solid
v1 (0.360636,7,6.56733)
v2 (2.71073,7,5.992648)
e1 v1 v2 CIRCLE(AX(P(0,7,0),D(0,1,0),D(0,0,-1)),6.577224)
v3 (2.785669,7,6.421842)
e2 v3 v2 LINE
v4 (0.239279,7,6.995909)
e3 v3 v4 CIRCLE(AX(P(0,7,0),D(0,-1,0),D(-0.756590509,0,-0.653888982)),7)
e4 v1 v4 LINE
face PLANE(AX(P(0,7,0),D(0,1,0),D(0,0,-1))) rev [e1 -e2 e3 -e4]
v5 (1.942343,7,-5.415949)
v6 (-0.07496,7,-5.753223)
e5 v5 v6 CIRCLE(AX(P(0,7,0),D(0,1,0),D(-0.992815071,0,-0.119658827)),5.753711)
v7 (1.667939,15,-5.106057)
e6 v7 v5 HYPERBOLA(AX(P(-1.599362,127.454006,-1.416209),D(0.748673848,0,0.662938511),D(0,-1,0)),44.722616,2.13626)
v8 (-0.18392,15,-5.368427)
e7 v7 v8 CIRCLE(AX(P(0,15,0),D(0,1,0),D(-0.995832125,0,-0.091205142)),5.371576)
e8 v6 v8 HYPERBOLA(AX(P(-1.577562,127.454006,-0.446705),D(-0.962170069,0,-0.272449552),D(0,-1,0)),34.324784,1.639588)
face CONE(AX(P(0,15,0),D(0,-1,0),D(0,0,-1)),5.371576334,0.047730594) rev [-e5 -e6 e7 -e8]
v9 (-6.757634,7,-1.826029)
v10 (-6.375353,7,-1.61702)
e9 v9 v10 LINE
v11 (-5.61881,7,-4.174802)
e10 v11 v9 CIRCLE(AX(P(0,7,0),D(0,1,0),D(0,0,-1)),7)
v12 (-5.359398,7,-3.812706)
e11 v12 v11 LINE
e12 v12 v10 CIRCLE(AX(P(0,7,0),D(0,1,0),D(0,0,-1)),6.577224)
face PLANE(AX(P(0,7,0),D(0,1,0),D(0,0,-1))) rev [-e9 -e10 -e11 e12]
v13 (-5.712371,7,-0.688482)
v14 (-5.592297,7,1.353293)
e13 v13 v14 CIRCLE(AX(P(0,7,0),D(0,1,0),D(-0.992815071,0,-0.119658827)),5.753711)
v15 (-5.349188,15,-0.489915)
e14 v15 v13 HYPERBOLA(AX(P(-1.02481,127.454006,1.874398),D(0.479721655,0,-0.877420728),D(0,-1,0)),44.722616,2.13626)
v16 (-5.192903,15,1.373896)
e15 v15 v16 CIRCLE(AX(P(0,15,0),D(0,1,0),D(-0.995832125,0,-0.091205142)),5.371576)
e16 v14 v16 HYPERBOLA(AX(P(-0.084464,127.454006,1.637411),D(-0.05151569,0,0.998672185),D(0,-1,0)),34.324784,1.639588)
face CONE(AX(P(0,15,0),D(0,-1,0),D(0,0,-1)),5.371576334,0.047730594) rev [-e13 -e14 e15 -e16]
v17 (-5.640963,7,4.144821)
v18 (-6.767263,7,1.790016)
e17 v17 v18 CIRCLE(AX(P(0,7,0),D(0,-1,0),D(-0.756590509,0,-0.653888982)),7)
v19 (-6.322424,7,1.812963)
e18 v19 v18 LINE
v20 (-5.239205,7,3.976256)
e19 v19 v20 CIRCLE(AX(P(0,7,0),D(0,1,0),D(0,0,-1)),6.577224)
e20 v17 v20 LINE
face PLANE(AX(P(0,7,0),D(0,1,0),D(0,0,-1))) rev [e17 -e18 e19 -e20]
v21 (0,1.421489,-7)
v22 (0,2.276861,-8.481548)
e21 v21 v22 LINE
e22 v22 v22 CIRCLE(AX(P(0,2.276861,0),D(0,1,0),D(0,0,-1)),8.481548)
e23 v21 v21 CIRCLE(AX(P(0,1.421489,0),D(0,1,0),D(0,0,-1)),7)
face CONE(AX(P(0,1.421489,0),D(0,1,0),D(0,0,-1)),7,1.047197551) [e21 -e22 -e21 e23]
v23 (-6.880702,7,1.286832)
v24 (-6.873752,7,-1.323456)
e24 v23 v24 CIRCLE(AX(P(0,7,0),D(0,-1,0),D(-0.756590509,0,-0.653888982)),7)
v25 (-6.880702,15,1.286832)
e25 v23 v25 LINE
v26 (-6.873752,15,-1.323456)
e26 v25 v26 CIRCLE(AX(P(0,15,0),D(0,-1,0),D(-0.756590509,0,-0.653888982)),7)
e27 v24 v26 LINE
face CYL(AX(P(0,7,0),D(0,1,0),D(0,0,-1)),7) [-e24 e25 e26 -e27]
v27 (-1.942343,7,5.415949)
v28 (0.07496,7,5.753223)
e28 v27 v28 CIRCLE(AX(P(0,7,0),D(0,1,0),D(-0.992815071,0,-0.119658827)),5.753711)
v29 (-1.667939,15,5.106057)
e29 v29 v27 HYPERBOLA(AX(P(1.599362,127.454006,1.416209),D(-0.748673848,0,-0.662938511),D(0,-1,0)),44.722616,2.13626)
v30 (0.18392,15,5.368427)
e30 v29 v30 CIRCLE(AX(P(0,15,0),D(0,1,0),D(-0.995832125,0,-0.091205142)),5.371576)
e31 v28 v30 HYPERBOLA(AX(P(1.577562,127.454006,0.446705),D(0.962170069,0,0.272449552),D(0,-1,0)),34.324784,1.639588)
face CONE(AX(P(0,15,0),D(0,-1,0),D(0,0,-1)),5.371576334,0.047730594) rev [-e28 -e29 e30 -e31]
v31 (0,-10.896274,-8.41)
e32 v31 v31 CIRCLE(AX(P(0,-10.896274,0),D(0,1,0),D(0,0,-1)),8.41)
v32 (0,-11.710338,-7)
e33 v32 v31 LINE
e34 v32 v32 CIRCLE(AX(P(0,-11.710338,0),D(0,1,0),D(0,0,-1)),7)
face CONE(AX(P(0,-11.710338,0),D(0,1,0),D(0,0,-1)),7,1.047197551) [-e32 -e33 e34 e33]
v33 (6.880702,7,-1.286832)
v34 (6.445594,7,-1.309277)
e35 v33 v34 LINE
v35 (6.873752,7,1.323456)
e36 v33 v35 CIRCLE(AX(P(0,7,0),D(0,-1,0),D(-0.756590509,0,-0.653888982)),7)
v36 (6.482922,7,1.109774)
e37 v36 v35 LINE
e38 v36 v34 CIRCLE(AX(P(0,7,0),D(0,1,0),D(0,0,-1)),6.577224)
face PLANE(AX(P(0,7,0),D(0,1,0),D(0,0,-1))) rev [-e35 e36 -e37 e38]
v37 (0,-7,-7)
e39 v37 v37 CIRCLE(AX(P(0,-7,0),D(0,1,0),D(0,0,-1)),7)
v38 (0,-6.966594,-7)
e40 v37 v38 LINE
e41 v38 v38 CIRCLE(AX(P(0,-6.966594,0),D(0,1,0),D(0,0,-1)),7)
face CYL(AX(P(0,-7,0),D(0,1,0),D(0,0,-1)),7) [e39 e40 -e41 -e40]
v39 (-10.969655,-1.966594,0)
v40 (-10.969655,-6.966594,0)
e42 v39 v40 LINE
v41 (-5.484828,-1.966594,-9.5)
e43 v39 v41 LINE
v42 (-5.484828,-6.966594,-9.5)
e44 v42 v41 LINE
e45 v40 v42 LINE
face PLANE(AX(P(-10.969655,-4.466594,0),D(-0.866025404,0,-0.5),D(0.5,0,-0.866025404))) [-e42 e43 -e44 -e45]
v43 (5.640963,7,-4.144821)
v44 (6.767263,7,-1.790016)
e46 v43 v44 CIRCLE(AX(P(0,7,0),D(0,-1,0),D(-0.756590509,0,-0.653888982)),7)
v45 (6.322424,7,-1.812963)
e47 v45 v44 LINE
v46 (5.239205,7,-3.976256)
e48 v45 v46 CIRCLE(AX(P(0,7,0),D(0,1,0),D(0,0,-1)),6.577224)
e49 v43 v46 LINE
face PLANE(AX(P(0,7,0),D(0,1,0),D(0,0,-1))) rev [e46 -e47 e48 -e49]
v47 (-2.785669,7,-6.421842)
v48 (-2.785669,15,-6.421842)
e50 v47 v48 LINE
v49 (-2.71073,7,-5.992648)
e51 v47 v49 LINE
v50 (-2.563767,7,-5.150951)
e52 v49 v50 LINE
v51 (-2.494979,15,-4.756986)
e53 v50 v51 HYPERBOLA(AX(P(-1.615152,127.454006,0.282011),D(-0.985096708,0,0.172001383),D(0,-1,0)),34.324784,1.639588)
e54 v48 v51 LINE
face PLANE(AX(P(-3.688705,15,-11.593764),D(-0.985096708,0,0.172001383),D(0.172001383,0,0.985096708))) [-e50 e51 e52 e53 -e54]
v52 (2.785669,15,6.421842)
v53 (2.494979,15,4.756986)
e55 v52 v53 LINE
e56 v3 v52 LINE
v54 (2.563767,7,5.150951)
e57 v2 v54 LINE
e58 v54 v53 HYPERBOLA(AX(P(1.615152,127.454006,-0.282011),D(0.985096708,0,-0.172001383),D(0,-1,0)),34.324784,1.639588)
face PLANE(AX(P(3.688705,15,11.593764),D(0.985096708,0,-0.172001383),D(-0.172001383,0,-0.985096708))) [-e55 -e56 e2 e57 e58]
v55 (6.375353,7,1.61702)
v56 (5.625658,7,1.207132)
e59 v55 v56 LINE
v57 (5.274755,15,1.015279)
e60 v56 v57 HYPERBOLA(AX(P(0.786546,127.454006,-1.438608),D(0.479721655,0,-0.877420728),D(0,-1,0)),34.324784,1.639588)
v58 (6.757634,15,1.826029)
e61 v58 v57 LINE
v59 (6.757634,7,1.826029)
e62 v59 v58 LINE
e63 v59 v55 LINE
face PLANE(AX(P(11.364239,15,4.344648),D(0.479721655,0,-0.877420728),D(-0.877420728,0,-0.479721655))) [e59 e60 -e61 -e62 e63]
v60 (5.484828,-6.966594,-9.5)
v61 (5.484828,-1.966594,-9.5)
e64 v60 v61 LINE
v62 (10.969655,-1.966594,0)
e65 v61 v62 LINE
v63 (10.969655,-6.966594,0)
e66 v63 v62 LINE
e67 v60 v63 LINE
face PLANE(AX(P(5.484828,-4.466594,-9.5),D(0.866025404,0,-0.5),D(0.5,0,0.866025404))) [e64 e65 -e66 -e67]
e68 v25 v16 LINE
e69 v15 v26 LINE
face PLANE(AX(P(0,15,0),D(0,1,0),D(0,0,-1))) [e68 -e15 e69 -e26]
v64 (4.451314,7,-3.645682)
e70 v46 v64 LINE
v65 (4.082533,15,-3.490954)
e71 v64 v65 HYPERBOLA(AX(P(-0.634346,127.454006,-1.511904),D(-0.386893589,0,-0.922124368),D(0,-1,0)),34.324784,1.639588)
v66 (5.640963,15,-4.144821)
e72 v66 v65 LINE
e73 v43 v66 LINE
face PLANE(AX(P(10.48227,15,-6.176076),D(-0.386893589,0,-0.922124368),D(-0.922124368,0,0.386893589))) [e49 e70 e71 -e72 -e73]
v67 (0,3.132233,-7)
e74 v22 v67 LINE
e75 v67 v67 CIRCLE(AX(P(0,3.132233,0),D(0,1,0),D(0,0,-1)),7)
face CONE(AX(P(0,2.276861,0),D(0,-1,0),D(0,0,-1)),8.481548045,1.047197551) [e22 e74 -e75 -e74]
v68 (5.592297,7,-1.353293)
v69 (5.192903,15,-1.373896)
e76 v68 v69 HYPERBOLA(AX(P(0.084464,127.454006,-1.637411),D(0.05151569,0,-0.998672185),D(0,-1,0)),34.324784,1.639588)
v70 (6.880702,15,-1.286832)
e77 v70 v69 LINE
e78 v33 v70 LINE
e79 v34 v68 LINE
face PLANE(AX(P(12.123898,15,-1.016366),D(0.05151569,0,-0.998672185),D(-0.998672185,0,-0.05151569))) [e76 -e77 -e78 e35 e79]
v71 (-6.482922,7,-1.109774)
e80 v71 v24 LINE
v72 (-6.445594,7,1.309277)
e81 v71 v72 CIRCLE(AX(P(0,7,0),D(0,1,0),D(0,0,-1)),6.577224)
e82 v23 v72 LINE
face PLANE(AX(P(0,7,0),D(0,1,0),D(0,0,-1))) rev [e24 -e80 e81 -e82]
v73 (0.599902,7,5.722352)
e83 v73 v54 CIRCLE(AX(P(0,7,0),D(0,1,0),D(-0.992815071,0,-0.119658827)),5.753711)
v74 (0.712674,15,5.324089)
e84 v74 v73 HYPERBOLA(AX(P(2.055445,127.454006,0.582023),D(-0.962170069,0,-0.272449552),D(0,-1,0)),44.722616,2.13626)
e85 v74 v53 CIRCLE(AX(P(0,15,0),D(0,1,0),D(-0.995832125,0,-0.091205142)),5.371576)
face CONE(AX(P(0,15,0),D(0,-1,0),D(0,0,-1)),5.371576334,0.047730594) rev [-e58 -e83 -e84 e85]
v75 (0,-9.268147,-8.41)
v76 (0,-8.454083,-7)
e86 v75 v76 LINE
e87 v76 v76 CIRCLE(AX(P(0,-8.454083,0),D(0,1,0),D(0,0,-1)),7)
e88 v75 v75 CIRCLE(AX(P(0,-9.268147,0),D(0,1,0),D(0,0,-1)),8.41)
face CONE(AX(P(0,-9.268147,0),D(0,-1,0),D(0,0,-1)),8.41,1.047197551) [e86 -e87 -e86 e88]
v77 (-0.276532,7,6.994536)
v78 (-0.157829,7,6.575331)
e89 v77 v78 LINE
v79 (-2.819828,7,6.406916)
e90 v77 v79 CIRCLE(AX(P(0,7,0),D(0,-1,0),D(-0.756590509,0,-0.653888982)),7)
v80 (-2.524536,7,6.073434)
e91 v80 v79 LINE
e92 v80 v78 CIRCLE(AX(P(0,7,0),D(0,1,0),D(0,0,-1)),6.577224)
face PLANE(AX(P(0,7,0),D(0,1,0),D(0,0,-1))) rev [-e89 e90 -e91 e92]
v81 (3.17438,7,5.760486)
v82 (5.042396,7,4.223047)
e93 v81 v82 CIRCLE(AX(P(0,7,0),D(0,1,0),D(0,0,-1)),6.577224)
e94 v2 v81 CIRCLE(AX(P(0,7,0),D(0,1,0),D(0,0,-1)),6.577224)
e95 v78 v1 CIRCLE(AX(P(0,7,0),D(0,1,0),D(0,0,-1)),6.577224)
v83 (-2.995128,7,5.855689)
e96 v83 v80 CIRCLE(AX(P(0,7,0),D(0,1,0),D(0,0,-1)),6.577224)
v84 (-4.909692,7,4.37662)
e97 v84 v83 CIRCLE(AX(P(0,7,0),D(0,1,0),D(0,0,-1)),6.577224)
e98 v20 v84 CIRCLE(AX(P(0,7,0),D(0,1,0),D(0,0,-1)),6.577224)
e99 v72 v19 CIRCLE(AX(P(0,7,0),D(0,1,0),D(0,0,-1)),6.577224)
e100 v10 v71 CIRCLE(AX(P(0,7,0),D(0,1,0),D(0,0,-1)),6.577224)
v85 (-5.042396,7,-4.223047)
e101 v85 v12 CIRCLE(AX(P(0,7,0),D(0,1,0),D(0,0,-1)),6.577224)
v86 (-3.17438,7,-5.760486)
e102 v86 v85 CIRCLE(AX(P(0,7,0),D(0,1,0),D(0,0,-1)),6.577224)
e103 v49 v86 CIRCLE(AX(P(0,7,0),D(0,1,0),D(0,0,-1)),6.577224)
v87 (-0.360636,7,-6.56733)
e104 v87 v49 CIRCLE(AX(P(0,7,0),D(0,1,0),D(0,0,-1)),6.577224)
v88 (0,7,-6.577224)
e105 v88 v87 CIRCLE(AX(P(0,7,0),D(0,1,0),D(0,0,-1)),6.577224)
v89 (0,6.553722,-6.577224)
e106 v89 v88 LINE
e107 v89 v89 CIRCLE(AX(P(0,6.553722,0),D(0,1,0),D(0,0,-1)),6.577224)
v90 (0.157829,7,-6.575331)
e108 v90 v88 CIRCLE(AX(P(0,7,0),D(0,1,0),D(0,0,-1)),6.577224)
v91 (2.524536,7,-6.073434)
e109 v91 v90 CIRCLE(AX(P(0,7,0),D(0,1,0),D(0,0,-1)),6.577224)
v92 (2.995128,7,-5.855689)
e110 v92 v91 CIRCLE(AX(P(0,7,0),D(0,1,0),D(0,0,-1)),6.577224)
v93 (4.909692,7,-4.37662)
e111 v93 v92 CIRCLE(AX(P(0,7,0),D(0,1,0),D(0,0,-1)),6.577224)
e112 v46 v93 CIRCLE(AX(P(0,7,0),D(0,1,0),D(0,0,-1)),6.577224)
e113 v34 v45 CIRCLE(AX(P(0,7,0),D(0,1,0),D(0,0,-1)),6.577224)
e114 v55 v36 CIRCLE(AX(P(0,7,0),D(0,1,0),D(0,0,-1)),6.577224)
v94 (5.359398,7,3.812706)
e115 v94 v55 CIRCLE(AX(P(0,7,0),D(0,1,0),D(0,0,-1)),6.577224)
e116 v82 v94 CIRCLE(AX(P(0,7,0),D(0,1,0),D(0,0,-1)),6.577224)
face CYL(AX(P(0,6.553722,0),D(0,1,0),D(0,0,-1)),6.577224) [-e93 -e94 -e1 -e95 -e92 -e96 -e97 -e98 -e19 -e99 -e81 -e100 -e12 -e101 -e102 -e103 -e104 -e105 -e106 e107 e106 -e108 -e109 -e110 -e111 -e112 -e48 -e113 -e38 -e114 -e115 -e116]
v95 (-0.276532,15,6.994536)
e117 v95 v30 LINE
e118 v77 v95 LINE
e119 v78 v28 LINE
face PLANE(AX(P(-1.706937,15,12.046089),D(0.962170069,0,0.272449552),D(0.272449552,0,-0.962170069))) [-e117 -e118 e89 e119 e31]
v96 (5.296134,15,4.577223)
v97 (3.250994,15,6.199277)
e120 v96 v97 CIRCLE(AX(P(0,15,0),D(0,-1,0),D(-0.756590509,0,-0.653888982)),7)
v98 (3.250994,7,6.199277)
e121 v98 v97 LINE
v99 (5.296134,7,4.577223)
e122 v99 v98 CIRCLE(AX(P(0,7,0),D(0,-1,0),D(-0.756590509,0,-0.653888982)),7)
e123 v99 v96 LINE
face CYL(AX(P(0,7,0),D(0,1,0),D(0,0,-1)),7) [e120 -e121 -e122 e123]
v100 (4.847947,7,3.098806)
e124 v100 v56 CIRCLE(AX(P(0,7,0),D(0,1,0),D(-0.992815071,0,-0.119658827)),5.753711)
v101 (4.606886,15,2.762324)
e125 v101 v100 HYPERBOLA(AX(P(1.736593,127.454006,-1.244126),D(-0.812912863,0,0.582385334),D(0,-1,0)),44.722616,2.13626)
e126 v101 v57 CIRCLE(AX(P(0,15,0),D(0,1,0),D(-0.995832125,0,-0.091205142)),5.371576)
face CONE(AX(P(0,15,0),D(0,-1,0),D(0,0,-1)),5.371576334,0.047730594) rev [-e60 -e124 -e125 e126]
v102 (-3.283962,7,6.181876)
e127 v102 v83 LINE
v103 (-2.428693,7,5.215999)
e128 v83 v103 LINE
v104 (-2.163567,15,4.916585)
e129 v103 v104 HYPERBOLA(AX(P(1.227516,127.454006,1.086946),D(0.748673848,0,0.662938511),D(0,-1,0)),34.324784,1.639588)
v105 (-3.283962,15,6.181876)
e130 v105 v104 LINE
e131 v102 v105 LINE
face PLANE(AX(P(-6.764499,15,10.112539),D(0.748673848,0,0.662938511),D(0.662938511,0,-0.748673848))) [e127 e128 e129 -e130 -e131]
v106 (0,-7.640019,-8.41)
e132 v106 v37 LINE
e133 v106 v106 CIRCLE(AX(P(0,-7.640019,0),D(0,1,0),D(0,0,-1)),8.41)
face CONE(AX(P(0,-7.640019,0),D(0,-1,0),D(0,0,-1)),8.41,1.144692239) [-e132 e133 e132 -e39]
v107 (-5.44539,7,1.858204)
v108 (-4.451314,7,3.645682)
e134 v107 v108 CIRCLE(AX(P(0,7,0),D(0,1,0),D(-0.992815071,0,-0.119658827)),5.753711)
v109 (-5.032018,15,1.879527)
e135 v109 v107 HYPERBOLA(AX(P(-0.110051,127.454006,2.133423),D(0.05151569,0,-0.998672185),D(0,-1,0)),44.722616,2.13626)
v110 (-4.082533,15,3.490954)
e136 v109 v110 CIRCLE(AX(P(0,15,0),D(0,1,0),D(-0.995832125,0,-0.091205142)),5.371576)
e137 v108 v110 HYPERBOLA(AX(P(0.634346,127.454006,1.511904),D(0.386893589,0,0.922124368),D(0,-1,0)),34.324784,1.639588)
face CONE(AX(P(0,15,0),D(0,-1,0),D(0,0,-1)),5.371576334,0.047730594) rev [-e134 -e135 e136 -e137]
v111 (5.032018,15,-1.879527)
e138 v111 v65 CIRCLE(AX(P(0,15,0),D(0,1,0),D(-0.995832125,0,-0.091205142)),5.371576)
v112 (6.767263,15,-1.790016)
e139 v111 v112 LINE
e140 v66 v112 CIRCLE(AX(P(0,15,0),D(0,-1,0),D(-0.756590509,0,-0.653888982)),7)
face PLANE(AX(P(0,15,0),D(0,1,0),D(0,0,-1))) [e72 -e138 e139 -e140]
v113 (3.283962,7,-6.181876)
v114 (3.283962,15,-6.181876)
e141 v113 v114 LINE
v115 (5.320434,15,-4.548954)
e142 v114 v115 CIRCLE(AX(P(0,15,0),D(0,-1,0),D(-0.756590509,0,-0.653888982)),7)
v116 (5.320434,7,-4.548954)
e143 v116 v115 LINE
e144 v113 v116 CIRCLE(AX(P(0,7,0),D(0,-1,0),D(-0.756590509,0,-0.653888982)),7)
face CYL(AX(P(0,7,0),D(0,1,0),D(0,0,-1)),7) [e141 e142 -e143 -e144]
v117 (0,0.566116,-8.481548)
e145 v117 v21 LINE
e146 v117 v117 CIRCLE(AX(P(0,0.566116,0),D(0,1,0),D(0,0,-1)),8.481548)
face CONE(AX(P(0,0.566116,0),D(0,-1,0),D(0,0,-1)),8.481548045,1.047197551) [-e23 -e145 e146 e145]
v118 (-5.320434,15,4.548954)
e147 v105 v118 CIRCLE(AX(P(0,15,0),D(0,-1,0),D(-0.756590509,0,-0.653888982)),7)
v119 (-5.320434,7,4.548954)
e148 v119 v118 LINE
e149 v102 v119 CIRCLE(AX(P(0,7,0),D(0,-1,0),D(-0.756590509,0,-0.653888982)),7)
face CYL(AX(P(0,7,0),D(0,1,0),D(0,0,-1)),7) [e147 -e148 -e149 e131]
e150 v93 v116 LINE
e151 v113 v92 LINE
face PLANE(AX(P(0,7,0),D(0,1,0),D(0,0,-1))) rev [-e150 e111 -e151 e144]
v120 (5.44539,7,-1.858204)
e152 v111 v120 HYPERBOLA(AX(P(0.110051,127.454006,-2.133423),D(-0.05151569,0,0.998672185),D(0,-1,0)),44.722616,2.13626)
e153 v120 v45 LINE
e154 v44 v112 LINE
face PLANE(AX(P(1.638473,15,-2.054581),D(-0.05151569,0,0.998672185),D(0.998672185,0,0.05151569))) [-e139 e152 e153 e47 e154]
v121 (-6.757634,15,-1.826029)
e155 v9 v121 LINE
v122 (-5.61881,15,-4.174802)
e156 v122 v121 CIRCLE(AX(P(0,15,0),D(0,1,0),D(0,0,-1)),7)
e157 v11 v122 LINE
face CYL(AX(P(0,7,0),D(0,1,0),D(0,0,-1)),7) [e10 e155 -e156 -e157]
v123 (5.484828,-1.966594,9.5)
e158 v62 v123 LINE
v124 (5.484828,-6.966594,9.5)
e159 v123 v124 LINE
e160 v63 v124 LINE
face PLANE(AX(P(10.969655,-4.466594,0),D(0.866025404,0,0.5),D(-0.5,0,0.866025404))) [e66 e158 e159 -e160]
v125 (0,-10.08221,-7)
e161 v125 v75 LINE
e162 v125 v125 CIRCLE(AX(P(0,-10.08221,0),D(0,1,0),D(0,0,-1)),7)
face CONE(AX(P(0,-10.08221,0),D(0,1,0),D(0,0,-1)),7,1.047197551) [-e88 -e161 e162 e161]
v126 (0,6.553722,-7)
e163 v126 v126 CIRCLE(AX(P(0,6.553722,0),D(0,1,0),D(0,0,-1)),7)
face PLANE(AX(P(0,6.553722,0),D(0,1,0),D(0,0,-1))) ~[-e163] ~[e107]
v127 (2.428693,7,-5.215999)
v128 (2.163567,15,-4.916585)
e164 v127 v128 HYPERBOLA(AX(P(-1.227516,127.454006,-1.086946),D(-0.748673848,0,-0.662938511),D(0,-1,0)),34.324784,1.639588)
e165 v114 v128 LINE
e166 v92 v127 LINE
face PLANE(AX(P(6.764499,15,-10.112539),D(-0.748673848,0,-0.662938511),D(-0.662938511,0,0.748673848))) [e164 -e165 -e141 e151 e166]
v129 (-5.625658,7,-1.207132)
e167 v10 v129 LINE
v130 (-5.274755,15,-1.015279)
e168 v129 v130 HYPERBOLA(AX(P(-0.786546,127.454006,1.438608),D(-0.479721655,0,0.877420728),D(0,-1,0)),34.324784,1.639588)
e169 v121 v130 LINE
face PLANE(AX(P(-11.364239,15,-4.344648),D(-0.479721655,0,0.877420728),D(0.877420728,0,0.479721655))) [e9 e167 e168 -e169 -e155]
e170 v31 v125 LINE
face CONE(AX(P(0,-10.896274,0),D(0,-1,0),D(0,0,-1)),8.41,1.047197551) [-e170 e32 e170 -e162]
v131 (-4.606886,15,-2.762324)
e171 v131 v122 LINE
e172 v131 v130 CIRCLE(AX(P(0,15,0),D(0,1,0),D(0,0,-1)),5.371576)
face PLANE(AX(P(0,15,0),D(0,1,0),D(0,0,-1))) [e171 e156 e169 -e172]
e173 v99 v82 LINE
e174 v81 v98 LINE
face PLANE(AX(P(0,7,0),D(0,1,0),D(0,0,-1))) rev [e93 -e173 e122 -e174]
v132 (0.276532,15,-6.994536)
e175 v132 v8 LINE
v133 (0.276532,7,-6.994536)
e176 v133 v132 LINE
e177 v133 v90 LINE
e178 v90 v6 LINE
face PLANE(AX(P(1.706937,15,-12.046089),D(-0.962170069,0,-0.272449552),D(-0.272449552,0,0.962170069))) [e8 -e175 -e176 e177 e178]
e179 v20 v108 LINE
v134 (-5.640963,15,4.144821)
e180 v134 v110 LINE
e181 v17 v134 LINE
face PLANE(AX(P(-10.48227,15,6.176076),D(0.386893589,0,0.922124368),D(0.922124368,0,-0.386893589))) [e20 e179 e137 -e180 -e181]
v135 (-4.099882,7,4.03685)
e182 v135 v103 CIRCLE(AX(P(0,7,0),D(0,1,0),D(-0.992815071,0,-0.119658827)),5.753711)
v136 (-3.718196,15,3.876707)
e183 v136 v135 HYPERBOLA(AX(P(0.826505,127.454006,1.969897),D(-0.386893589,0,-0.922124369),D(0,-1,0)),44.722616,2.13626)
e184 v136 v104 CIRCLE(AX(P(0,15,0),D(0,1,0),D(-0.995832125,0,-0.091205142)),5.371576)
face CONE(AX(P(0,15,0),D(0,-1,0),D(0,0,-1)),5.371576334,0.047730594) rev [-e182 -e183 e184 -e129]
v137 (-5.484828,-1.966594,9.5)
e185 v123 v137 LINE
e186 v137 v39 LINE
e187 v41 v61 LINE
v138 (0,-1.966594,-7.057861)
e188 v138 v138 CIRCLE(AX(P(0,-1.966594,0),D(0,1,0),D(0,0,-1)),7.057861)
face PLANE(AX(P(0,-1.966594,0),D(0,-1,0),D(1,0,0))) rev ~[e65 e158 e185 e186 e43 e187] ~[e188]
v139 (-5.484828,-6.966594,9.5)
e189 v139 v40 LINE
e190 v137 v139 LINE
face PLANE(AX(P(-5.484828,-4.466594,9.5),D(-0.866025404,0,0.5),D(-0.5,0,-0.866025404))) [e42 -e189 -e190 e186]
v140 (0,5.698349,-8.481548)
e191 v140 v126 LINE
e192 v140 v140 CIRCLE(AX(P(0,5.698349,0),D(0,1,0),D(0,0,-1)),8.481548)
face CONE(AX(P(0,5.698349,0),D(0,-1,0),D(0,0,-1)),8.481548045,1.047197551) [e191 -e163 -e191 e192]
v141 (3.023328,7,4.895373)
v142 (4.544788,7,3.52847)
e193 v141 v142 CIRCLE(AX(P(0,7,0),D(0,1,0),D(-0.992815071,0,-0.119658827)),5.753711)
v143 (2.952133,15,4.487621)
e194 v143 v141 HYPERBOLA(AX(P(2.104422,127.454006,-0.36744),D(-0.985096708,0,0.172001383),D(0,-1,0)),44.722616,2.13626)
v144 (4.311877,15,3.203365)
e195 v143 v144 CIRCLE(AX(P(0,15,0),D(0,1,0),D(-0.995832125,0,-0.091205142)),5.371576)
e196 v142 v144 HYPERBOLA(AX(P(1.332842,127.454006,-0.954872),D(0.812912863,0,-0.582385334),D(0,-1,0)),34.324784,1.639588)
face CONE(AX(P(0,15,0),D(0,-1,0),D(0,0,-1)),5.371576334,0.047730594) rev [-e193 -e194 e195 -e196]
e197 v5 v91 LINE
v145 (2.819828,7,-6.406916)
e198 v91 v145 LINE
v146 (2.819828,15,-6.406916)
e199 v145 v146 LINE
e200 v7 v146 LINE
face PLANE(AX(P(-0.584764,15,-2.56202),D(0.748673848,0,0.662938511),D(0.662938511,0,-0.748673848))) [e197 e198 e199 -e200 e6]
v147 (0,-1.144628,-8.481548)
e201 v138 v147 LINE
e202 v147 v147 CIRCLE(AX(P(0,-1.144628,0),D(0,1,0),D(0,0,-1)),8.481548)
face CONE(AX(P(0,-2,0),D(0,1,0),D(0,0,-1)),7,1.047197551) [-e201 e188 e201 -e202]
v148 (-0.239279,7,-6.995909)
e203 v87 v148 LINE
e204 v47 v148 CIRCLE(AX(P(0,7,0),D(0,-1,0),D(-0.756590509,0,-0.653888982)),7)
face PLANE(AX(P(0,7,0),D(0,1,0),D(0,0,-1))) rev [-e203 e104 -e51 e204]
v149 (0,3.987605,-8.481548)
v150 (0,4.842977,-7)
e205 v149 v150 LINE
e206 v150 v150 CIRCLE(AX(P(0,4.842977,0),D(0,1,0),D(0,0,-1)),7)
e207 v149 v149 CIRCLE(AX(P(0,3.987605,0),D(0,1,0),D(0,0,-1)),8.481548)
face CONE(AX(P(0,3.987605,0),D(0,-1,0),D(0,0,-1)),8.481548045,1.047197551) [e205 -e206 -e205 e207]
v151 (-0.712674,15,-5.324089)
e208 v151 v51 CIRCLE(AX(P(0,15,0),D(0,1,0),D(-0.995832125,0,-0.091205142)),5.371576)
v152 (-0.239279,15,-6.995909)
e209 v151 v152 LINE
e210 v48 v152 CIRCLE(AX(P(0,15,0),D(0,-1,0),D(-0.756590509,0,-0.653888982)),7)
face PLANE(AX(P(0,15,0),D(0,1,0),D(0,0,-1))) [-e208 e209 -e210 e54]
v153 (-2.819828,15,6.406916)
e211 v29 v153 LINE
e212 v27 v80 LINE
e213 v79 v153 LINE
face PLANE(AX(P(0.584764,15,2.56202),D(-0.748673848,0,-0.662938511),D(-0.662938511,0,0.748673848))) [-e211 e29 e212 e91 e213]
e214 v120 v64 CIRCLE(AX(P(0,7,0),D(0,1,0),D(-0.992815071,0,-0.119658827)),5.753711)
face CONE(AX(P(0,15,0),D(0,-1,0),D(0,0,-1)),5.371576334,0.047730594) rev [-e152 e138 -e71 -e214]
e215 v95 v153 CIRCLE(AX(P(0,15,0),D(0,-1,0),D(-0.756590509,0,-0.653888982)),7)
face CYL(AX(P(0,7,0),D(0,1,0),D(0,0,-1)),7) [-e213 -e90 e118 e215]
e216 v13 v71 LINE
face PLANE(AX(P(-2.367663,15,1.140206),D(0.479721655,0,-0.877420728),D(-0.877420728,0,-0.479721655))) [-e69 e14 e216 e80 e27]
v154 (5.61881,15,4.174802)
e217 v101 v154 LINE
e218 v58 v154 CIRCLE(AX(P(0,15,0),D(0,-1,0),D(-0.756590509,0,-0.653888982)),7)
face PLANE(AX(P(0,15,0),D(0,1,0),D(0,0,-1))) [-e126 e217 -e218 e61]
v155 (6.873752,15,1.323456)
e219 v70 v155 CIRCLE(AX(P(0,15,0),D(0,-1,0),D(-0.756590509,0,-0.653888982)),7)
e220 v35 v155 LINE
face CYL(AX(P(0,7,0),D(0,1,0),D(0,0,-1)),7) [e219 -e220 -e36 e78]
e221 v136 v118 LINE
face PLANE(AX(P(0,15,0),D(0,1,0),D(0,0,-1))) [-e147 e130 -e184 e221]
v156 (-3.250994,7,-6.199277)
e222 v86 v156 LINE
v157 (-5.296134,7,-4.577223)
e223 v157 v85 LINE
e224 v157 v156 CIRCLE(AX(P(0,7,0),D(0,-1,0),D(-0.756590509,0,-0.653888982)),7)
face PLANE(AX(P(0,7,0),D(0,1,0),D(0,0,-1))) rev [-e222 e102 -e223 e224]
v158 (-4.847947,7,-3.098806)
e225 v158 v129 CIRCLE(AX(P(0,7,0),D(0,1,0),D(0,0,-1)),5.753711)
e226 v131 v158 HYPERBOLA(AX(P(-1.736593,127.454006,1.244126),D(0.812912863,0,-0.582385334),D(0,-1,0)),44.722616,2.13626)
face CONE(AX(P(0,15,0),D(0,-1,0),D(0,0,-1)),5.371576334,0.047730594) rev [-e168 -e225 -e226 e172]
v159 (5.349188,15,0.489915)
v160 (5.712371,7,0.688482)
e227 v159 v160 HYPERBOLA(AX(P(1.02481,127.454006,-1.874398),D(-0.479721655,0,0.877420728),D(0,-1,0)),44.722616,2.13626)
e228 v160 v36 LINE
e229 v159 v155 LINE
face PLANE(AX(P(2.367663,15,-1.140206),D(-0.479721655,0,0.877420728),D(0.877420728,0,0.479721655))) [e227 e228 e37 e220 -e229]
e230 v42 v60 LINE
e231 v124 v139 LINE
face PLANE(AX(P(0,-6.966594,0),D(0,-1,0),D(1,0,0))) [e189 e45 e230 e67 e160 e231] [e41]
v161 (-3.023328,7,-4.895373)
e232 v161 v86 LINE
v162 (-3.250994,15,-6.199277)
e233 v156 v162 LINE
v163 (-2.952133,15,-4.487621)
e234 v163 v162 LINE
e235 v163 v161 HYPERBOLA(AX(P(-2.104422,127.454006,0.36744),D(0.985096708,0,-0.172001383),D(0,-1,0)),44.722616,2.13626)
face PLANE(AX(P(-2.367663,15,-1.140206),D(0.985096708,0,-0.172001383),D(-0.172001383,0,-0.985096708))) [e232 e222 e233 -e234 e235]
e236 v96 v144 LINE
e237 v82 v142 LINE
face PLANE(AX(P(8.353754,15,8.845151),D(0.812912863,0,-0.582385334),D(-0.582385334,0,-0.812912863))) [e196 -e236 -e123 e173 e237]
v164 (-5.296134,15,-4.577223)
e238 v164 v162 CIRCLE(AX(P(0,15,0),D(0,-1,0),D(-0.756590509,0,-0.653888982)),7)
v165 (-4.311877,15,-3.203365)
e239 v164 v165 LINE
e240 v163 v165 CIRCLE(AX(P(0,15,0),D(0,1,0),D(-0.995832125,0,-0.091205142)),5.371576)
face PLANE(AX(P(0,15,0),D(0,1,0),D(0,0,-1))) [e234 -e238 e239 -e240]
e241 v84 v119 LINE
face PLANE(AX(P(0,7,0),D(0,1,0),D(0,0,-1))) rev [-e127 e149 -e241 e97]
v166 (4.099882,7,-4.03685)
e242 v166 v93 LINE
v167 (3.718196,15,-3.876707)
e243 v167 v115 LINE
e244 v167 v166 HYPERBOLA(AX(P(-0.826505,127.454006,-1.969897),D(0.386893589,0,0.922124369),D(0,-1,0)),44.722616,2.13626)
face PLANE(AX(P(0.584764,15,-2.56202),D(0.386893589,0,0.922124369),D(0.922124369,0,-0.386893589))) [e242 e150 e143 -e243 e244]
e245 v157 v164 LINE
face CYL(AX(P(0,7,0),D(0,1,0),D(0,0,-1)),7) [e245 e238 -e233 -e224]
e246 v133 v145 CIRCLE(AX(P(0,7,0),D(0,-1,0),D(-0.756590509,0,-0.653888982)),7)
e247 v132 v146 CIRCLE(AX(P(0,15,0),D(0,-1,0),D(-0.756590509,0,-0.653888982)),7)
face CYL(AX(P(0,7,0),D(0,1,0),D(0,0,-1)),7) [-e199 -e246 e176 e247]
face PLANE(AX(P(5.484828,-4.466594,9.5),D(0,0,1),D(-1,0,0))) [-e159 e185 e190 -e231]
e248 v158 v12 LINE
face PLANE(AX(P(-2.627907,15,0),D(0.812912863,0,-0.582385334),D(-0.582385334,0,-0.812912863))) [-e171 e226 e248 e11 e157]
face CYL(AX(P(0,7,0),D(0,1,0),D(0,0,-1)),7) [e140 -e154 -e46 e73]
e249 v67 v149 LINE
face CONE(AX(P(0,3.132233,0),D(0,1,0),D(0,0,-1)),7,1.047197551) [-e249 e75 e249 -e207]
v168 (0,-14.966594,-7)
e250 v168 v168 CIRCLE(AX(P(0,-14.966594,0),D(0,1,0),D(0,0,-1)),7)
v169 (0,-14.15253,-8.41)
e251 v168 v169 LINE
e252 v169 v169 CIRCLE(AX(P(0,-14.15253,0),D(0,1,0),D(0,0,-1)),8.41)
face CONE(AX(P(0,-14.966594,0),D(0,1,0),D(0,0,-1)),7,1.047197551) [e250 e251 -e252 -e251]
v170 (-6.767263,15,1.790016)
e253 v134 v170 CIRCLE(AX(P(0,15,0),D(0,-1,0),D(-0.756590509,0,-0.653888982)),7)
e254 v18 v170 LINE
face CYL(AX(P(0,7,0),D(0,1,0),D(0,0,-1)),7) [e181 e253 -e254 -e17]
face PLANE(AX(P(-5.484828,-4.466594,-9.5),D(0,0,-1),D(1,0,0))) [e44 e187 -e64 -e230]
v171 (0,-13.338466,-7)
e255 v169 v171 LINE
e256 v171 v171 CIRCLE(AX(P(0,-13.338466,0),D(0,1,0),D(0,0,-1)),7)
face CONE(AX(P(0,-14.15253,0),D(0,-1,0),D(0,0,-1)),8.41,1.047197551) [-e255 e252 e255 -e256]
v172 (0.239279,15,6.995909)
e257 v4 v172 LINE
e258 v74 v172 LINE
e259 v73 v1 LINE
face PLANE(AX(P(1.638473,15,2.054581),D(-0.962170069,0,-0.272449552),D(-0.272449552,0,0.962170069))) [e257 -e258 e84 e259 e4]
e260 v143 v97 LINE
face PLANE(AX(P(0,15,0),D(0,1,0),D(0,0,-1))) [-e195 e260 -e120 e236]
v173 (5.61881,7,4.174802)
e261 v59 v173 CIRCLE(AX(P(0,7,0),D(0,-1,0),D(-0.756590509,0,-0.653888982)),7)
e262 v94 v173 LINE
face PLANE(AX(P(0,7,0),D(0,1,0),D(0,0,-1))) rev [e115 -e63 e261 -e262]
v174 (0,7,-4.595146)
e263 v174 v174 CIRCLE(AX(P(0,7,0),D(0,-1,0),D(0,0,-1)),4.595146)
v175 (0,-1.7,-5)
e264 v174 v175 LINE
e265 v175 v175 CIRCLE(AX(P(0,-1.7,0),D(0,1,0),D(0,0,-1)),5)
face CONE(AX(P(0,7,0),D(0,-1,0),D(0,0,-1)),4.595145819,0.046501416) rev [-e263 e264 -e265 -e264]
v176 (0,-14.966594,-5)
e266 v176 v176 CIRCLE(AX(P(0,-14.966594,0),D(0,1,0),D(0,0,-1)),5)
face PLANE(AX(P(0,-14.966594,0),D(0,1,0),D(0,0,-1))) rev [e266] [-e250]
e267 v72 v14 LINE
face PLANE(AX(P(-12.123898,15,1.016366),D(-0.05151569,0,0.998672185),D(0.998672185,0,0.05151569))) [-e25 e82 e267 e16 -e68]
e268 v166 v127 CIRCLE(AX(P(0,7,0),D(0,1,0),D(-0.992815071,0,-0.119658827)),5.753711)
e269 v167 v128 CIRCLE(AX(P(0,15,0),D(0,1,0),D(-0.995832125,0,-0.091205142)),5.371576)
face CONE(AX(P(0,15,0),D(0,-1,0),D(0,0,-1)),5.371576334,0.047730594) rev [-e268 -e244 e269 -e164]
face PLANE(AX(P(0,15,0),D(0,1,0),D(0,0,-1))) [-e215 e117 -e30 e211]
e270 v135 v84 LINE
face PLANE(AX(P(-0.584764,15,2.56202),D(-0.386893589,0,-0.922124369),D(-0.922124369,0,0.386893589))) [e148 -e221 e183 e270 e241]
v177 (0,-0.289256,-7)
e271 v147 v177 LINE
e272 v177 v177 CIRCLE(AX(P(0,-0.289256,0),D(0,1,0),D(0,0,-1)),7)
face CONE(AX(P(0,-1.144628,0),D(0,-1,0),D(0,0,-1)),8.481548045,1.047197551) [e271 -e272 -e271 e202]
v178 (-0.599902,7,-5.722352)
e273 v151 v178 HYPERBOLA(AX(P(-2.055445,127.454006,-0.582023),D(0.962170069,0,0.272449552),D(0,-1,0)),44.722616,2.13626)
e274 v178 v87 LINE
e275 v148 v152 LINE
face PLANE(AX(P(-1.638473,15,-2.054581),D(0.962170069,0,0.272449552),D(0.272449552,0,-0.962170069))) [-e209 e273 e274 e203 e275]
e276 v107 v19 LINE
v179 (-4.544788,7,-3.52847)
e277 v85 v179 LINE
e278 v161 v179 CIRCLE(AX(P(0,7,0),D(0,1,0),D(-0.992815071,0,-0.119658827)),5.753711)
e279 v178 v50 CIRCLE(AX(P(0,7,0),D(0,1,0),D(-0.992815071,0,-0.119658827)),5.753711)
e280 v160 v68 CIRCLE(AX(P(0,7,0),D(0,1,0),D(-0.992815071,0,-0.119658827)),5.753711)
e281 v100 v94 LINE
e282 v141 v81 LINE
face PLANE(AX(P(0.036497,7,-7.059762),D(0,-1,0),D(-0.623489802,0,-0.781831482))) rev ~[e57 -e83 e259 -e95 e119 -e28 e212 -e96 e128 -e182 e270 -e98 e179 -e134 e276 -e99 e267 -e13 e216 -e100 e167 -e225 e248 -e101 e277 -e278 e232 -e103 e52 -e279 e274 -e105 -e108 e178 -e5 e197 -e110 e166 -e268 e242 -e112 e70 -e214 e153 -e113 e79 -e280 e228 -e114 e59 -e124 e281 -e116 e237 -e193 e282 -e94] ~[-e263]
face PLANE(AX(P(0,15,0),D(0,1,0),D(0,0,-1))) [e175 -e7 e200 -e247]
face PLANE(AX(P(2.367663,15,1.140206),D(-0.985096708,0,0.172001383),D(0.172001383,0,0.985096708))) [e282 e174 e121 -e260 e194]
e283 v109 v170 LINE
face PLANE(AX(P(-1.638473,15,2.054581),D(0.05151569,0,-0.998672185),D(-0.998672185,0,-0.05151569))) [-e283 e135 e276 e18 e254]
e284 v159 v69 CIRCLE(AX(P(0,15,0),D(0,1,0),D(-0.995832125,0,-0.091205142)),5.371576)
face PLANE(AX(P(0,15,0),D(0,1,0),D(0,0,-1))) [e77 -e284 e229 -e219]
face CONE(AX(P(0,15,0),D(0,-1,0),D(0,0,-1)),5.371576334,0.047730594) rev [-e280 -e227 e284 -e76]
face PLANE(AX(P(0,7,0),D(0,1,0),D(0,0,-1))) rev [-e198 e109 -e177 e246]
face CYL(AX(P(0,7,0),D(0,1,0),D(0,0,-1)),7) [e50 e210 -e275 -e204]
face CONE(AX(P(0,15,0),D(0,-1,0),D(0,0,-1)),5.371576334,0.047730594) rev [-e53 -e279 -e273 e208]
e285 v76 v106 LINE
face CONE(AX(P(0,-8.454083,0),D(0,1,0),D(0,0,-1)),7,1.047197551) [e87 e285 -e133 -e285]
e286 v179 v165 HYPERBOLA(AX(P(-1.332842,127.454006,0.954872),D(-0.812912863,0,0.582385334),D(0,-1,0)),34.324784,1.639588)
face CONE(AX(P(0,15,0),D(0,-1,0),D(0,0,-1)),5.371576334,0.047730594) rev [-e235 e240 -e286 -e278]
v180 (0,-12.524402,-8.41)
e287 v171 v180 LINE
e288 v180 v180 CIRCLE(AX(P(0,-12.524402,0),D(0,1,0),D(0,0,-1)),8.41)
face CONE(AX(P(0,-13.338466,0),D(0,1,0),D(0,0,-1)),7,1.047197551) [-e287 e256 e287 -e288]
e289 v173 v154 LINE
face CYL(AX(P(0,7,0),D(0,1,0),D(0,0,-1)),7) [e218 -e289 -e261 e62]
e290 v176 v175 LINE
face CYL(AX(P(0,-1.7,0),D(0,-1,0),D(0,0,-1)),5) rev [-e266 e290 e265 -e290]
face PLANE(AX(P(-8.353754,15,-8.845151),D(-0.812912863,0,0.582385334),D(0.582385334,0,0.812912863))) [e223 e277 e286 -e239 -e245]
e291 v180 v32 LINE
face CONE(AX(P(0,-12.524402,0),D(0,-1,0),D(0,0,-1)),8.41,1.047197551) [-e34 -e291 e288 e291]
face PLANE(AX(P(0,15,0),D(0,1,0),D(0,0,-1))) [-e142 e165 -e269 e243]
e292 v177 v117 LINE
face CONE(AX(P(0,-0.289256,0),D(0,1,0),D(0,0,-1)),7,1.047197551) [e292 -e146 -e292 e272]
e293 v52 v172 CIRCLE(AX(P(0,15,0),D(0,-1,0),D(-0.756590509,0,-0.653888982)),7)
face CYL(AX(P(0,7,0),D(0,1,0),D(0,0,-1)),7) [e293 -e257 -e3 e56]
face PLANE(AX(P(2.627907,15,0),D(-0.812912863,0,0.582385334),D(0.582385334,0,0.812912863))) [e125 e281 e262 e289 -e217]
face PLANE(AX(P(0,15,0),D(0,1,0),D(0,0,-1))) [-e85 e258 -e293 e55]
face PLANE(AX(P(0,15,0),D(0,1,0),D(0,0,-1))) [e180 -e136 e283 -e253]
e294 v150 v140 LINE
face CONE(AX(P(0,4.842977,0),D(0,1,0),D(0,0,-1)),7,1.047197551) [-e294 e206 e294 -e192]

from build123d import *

# Parameters (mm, degrees)
BOSS_EXTRUDE1_DEPTH = 2.5
CUT_EXTRUDE1_DEPTH  = 8
CIRPATTERN1_COUNT   = 14
CUT_EXTRUDE2_START  = -10
SKETCH5_R           = 5
CUT_EXTRUDE2_DEPTH  = 10


with BuildPart() as part:
    # Sketch1 → Revolve1 (revolve)
    with BuildSketch(Plane.XY, mode=Mode.PRIVATE) as revolve1_sk:
        Polygon((-5, -1.7), (-5, -14.966593737), (-7, -14.966593737), (-8.41, -14.152529857), (-7, -13.338465977), (-8.41, -12.524402098), (-7, -11.710338218), (-8.41, -10.896274339), (-7, -10.082210459), (-8.41, -9.26814658), (-7, -8.4540827), (-8.41, -7.640018821), (-7, -7), (-7, -2), (-8.481548045, -1.144627838), (-7, -0.289255675), (-8.481548045, 0.566116487), (-7, 1.42148865), (-8.481548045, 2.276860812), (-7, 3.132232974), (-8.481548045, 3.987605137), (-7, 4.842977299), (-8.481548045, 5.698349462), (-7, 6.553721624), (-6.800767408, 6.553721624), (-6.577224477, 6.553721624), (-6.577224477, 7), (-7, 7), (-7, 15), (-5.371576334, 15), (-5.753711326, 7), (-5.371576334, 7), (-4.595145819, 7), align=None)
    revolve(revolve1_sk.sketch.rotate(Axis((0, -16.464923423, 0), (0, 1, 0)), 270), axis=Axis((0, -16.464923423, 0), (0, 1, 0)))

    # Sketch2 → Boss-Extrude1 (add, symmetric)
    with BuildSketch(Plane.XZ.offset(4.466593737)):
        Polygon((10.969655115, 0), (5.484827557, 9.5), (-5.484827557, 9.5), (-10.969655115, 0), (-5.484827557, -9.5), (5.484827557, -9.5), align=None)
    extrude(amount=BOSS_EXTRUDE1_DEPTH, both=True)

    # Sketch4 → Cut-Extrude1 (cut)
    with BuildSketch(Plane(origin=(0, 15, 0), x_dir=(1, 0, 0), z_dir=(0, 1, 0))):
        Polygon((-8.353753696, 8.845150972), (-2.200605193, 0.256381188), (-2.627907173, 0), (-8.80128537, 8.617007067), align=None)
    cut_extrude1 = extrude(amount=-CUT_EXTRUDE1_DEPTH, mode=Mode.SUBTRACT)

    # CirPattern1: Cut-Extrude1 ×14 about axis
    cirpattern1_axis = Axis((0, 0, 0), (0, 1, 0))
    for i in range(1, CIRPATTERN1_COUNT):
        add(cut_extrude1.rotate(cirpattern1_axis, i * 360 / CIRPATTERN1_COUNT), mode=Mode.SUBTRACT)

    # Sketch5 → Cut-Extrude2 (cut)
    with BuildSketch(Plane(origin=(0, -1.966593737, 0), x_dir=(1, 0, 0), z_dir=(0, 1, 0)).offset(CUT_EXTRUDE2_START)):
        with Locations(Location((0, 0, 0), (0, 0, 90))):
            Circle(SKETCH5_R)
    extrude(amount=CUT_EXTRUDE2_DEPTH, mode=Mode.SUBTRACT)


solid = part.part
